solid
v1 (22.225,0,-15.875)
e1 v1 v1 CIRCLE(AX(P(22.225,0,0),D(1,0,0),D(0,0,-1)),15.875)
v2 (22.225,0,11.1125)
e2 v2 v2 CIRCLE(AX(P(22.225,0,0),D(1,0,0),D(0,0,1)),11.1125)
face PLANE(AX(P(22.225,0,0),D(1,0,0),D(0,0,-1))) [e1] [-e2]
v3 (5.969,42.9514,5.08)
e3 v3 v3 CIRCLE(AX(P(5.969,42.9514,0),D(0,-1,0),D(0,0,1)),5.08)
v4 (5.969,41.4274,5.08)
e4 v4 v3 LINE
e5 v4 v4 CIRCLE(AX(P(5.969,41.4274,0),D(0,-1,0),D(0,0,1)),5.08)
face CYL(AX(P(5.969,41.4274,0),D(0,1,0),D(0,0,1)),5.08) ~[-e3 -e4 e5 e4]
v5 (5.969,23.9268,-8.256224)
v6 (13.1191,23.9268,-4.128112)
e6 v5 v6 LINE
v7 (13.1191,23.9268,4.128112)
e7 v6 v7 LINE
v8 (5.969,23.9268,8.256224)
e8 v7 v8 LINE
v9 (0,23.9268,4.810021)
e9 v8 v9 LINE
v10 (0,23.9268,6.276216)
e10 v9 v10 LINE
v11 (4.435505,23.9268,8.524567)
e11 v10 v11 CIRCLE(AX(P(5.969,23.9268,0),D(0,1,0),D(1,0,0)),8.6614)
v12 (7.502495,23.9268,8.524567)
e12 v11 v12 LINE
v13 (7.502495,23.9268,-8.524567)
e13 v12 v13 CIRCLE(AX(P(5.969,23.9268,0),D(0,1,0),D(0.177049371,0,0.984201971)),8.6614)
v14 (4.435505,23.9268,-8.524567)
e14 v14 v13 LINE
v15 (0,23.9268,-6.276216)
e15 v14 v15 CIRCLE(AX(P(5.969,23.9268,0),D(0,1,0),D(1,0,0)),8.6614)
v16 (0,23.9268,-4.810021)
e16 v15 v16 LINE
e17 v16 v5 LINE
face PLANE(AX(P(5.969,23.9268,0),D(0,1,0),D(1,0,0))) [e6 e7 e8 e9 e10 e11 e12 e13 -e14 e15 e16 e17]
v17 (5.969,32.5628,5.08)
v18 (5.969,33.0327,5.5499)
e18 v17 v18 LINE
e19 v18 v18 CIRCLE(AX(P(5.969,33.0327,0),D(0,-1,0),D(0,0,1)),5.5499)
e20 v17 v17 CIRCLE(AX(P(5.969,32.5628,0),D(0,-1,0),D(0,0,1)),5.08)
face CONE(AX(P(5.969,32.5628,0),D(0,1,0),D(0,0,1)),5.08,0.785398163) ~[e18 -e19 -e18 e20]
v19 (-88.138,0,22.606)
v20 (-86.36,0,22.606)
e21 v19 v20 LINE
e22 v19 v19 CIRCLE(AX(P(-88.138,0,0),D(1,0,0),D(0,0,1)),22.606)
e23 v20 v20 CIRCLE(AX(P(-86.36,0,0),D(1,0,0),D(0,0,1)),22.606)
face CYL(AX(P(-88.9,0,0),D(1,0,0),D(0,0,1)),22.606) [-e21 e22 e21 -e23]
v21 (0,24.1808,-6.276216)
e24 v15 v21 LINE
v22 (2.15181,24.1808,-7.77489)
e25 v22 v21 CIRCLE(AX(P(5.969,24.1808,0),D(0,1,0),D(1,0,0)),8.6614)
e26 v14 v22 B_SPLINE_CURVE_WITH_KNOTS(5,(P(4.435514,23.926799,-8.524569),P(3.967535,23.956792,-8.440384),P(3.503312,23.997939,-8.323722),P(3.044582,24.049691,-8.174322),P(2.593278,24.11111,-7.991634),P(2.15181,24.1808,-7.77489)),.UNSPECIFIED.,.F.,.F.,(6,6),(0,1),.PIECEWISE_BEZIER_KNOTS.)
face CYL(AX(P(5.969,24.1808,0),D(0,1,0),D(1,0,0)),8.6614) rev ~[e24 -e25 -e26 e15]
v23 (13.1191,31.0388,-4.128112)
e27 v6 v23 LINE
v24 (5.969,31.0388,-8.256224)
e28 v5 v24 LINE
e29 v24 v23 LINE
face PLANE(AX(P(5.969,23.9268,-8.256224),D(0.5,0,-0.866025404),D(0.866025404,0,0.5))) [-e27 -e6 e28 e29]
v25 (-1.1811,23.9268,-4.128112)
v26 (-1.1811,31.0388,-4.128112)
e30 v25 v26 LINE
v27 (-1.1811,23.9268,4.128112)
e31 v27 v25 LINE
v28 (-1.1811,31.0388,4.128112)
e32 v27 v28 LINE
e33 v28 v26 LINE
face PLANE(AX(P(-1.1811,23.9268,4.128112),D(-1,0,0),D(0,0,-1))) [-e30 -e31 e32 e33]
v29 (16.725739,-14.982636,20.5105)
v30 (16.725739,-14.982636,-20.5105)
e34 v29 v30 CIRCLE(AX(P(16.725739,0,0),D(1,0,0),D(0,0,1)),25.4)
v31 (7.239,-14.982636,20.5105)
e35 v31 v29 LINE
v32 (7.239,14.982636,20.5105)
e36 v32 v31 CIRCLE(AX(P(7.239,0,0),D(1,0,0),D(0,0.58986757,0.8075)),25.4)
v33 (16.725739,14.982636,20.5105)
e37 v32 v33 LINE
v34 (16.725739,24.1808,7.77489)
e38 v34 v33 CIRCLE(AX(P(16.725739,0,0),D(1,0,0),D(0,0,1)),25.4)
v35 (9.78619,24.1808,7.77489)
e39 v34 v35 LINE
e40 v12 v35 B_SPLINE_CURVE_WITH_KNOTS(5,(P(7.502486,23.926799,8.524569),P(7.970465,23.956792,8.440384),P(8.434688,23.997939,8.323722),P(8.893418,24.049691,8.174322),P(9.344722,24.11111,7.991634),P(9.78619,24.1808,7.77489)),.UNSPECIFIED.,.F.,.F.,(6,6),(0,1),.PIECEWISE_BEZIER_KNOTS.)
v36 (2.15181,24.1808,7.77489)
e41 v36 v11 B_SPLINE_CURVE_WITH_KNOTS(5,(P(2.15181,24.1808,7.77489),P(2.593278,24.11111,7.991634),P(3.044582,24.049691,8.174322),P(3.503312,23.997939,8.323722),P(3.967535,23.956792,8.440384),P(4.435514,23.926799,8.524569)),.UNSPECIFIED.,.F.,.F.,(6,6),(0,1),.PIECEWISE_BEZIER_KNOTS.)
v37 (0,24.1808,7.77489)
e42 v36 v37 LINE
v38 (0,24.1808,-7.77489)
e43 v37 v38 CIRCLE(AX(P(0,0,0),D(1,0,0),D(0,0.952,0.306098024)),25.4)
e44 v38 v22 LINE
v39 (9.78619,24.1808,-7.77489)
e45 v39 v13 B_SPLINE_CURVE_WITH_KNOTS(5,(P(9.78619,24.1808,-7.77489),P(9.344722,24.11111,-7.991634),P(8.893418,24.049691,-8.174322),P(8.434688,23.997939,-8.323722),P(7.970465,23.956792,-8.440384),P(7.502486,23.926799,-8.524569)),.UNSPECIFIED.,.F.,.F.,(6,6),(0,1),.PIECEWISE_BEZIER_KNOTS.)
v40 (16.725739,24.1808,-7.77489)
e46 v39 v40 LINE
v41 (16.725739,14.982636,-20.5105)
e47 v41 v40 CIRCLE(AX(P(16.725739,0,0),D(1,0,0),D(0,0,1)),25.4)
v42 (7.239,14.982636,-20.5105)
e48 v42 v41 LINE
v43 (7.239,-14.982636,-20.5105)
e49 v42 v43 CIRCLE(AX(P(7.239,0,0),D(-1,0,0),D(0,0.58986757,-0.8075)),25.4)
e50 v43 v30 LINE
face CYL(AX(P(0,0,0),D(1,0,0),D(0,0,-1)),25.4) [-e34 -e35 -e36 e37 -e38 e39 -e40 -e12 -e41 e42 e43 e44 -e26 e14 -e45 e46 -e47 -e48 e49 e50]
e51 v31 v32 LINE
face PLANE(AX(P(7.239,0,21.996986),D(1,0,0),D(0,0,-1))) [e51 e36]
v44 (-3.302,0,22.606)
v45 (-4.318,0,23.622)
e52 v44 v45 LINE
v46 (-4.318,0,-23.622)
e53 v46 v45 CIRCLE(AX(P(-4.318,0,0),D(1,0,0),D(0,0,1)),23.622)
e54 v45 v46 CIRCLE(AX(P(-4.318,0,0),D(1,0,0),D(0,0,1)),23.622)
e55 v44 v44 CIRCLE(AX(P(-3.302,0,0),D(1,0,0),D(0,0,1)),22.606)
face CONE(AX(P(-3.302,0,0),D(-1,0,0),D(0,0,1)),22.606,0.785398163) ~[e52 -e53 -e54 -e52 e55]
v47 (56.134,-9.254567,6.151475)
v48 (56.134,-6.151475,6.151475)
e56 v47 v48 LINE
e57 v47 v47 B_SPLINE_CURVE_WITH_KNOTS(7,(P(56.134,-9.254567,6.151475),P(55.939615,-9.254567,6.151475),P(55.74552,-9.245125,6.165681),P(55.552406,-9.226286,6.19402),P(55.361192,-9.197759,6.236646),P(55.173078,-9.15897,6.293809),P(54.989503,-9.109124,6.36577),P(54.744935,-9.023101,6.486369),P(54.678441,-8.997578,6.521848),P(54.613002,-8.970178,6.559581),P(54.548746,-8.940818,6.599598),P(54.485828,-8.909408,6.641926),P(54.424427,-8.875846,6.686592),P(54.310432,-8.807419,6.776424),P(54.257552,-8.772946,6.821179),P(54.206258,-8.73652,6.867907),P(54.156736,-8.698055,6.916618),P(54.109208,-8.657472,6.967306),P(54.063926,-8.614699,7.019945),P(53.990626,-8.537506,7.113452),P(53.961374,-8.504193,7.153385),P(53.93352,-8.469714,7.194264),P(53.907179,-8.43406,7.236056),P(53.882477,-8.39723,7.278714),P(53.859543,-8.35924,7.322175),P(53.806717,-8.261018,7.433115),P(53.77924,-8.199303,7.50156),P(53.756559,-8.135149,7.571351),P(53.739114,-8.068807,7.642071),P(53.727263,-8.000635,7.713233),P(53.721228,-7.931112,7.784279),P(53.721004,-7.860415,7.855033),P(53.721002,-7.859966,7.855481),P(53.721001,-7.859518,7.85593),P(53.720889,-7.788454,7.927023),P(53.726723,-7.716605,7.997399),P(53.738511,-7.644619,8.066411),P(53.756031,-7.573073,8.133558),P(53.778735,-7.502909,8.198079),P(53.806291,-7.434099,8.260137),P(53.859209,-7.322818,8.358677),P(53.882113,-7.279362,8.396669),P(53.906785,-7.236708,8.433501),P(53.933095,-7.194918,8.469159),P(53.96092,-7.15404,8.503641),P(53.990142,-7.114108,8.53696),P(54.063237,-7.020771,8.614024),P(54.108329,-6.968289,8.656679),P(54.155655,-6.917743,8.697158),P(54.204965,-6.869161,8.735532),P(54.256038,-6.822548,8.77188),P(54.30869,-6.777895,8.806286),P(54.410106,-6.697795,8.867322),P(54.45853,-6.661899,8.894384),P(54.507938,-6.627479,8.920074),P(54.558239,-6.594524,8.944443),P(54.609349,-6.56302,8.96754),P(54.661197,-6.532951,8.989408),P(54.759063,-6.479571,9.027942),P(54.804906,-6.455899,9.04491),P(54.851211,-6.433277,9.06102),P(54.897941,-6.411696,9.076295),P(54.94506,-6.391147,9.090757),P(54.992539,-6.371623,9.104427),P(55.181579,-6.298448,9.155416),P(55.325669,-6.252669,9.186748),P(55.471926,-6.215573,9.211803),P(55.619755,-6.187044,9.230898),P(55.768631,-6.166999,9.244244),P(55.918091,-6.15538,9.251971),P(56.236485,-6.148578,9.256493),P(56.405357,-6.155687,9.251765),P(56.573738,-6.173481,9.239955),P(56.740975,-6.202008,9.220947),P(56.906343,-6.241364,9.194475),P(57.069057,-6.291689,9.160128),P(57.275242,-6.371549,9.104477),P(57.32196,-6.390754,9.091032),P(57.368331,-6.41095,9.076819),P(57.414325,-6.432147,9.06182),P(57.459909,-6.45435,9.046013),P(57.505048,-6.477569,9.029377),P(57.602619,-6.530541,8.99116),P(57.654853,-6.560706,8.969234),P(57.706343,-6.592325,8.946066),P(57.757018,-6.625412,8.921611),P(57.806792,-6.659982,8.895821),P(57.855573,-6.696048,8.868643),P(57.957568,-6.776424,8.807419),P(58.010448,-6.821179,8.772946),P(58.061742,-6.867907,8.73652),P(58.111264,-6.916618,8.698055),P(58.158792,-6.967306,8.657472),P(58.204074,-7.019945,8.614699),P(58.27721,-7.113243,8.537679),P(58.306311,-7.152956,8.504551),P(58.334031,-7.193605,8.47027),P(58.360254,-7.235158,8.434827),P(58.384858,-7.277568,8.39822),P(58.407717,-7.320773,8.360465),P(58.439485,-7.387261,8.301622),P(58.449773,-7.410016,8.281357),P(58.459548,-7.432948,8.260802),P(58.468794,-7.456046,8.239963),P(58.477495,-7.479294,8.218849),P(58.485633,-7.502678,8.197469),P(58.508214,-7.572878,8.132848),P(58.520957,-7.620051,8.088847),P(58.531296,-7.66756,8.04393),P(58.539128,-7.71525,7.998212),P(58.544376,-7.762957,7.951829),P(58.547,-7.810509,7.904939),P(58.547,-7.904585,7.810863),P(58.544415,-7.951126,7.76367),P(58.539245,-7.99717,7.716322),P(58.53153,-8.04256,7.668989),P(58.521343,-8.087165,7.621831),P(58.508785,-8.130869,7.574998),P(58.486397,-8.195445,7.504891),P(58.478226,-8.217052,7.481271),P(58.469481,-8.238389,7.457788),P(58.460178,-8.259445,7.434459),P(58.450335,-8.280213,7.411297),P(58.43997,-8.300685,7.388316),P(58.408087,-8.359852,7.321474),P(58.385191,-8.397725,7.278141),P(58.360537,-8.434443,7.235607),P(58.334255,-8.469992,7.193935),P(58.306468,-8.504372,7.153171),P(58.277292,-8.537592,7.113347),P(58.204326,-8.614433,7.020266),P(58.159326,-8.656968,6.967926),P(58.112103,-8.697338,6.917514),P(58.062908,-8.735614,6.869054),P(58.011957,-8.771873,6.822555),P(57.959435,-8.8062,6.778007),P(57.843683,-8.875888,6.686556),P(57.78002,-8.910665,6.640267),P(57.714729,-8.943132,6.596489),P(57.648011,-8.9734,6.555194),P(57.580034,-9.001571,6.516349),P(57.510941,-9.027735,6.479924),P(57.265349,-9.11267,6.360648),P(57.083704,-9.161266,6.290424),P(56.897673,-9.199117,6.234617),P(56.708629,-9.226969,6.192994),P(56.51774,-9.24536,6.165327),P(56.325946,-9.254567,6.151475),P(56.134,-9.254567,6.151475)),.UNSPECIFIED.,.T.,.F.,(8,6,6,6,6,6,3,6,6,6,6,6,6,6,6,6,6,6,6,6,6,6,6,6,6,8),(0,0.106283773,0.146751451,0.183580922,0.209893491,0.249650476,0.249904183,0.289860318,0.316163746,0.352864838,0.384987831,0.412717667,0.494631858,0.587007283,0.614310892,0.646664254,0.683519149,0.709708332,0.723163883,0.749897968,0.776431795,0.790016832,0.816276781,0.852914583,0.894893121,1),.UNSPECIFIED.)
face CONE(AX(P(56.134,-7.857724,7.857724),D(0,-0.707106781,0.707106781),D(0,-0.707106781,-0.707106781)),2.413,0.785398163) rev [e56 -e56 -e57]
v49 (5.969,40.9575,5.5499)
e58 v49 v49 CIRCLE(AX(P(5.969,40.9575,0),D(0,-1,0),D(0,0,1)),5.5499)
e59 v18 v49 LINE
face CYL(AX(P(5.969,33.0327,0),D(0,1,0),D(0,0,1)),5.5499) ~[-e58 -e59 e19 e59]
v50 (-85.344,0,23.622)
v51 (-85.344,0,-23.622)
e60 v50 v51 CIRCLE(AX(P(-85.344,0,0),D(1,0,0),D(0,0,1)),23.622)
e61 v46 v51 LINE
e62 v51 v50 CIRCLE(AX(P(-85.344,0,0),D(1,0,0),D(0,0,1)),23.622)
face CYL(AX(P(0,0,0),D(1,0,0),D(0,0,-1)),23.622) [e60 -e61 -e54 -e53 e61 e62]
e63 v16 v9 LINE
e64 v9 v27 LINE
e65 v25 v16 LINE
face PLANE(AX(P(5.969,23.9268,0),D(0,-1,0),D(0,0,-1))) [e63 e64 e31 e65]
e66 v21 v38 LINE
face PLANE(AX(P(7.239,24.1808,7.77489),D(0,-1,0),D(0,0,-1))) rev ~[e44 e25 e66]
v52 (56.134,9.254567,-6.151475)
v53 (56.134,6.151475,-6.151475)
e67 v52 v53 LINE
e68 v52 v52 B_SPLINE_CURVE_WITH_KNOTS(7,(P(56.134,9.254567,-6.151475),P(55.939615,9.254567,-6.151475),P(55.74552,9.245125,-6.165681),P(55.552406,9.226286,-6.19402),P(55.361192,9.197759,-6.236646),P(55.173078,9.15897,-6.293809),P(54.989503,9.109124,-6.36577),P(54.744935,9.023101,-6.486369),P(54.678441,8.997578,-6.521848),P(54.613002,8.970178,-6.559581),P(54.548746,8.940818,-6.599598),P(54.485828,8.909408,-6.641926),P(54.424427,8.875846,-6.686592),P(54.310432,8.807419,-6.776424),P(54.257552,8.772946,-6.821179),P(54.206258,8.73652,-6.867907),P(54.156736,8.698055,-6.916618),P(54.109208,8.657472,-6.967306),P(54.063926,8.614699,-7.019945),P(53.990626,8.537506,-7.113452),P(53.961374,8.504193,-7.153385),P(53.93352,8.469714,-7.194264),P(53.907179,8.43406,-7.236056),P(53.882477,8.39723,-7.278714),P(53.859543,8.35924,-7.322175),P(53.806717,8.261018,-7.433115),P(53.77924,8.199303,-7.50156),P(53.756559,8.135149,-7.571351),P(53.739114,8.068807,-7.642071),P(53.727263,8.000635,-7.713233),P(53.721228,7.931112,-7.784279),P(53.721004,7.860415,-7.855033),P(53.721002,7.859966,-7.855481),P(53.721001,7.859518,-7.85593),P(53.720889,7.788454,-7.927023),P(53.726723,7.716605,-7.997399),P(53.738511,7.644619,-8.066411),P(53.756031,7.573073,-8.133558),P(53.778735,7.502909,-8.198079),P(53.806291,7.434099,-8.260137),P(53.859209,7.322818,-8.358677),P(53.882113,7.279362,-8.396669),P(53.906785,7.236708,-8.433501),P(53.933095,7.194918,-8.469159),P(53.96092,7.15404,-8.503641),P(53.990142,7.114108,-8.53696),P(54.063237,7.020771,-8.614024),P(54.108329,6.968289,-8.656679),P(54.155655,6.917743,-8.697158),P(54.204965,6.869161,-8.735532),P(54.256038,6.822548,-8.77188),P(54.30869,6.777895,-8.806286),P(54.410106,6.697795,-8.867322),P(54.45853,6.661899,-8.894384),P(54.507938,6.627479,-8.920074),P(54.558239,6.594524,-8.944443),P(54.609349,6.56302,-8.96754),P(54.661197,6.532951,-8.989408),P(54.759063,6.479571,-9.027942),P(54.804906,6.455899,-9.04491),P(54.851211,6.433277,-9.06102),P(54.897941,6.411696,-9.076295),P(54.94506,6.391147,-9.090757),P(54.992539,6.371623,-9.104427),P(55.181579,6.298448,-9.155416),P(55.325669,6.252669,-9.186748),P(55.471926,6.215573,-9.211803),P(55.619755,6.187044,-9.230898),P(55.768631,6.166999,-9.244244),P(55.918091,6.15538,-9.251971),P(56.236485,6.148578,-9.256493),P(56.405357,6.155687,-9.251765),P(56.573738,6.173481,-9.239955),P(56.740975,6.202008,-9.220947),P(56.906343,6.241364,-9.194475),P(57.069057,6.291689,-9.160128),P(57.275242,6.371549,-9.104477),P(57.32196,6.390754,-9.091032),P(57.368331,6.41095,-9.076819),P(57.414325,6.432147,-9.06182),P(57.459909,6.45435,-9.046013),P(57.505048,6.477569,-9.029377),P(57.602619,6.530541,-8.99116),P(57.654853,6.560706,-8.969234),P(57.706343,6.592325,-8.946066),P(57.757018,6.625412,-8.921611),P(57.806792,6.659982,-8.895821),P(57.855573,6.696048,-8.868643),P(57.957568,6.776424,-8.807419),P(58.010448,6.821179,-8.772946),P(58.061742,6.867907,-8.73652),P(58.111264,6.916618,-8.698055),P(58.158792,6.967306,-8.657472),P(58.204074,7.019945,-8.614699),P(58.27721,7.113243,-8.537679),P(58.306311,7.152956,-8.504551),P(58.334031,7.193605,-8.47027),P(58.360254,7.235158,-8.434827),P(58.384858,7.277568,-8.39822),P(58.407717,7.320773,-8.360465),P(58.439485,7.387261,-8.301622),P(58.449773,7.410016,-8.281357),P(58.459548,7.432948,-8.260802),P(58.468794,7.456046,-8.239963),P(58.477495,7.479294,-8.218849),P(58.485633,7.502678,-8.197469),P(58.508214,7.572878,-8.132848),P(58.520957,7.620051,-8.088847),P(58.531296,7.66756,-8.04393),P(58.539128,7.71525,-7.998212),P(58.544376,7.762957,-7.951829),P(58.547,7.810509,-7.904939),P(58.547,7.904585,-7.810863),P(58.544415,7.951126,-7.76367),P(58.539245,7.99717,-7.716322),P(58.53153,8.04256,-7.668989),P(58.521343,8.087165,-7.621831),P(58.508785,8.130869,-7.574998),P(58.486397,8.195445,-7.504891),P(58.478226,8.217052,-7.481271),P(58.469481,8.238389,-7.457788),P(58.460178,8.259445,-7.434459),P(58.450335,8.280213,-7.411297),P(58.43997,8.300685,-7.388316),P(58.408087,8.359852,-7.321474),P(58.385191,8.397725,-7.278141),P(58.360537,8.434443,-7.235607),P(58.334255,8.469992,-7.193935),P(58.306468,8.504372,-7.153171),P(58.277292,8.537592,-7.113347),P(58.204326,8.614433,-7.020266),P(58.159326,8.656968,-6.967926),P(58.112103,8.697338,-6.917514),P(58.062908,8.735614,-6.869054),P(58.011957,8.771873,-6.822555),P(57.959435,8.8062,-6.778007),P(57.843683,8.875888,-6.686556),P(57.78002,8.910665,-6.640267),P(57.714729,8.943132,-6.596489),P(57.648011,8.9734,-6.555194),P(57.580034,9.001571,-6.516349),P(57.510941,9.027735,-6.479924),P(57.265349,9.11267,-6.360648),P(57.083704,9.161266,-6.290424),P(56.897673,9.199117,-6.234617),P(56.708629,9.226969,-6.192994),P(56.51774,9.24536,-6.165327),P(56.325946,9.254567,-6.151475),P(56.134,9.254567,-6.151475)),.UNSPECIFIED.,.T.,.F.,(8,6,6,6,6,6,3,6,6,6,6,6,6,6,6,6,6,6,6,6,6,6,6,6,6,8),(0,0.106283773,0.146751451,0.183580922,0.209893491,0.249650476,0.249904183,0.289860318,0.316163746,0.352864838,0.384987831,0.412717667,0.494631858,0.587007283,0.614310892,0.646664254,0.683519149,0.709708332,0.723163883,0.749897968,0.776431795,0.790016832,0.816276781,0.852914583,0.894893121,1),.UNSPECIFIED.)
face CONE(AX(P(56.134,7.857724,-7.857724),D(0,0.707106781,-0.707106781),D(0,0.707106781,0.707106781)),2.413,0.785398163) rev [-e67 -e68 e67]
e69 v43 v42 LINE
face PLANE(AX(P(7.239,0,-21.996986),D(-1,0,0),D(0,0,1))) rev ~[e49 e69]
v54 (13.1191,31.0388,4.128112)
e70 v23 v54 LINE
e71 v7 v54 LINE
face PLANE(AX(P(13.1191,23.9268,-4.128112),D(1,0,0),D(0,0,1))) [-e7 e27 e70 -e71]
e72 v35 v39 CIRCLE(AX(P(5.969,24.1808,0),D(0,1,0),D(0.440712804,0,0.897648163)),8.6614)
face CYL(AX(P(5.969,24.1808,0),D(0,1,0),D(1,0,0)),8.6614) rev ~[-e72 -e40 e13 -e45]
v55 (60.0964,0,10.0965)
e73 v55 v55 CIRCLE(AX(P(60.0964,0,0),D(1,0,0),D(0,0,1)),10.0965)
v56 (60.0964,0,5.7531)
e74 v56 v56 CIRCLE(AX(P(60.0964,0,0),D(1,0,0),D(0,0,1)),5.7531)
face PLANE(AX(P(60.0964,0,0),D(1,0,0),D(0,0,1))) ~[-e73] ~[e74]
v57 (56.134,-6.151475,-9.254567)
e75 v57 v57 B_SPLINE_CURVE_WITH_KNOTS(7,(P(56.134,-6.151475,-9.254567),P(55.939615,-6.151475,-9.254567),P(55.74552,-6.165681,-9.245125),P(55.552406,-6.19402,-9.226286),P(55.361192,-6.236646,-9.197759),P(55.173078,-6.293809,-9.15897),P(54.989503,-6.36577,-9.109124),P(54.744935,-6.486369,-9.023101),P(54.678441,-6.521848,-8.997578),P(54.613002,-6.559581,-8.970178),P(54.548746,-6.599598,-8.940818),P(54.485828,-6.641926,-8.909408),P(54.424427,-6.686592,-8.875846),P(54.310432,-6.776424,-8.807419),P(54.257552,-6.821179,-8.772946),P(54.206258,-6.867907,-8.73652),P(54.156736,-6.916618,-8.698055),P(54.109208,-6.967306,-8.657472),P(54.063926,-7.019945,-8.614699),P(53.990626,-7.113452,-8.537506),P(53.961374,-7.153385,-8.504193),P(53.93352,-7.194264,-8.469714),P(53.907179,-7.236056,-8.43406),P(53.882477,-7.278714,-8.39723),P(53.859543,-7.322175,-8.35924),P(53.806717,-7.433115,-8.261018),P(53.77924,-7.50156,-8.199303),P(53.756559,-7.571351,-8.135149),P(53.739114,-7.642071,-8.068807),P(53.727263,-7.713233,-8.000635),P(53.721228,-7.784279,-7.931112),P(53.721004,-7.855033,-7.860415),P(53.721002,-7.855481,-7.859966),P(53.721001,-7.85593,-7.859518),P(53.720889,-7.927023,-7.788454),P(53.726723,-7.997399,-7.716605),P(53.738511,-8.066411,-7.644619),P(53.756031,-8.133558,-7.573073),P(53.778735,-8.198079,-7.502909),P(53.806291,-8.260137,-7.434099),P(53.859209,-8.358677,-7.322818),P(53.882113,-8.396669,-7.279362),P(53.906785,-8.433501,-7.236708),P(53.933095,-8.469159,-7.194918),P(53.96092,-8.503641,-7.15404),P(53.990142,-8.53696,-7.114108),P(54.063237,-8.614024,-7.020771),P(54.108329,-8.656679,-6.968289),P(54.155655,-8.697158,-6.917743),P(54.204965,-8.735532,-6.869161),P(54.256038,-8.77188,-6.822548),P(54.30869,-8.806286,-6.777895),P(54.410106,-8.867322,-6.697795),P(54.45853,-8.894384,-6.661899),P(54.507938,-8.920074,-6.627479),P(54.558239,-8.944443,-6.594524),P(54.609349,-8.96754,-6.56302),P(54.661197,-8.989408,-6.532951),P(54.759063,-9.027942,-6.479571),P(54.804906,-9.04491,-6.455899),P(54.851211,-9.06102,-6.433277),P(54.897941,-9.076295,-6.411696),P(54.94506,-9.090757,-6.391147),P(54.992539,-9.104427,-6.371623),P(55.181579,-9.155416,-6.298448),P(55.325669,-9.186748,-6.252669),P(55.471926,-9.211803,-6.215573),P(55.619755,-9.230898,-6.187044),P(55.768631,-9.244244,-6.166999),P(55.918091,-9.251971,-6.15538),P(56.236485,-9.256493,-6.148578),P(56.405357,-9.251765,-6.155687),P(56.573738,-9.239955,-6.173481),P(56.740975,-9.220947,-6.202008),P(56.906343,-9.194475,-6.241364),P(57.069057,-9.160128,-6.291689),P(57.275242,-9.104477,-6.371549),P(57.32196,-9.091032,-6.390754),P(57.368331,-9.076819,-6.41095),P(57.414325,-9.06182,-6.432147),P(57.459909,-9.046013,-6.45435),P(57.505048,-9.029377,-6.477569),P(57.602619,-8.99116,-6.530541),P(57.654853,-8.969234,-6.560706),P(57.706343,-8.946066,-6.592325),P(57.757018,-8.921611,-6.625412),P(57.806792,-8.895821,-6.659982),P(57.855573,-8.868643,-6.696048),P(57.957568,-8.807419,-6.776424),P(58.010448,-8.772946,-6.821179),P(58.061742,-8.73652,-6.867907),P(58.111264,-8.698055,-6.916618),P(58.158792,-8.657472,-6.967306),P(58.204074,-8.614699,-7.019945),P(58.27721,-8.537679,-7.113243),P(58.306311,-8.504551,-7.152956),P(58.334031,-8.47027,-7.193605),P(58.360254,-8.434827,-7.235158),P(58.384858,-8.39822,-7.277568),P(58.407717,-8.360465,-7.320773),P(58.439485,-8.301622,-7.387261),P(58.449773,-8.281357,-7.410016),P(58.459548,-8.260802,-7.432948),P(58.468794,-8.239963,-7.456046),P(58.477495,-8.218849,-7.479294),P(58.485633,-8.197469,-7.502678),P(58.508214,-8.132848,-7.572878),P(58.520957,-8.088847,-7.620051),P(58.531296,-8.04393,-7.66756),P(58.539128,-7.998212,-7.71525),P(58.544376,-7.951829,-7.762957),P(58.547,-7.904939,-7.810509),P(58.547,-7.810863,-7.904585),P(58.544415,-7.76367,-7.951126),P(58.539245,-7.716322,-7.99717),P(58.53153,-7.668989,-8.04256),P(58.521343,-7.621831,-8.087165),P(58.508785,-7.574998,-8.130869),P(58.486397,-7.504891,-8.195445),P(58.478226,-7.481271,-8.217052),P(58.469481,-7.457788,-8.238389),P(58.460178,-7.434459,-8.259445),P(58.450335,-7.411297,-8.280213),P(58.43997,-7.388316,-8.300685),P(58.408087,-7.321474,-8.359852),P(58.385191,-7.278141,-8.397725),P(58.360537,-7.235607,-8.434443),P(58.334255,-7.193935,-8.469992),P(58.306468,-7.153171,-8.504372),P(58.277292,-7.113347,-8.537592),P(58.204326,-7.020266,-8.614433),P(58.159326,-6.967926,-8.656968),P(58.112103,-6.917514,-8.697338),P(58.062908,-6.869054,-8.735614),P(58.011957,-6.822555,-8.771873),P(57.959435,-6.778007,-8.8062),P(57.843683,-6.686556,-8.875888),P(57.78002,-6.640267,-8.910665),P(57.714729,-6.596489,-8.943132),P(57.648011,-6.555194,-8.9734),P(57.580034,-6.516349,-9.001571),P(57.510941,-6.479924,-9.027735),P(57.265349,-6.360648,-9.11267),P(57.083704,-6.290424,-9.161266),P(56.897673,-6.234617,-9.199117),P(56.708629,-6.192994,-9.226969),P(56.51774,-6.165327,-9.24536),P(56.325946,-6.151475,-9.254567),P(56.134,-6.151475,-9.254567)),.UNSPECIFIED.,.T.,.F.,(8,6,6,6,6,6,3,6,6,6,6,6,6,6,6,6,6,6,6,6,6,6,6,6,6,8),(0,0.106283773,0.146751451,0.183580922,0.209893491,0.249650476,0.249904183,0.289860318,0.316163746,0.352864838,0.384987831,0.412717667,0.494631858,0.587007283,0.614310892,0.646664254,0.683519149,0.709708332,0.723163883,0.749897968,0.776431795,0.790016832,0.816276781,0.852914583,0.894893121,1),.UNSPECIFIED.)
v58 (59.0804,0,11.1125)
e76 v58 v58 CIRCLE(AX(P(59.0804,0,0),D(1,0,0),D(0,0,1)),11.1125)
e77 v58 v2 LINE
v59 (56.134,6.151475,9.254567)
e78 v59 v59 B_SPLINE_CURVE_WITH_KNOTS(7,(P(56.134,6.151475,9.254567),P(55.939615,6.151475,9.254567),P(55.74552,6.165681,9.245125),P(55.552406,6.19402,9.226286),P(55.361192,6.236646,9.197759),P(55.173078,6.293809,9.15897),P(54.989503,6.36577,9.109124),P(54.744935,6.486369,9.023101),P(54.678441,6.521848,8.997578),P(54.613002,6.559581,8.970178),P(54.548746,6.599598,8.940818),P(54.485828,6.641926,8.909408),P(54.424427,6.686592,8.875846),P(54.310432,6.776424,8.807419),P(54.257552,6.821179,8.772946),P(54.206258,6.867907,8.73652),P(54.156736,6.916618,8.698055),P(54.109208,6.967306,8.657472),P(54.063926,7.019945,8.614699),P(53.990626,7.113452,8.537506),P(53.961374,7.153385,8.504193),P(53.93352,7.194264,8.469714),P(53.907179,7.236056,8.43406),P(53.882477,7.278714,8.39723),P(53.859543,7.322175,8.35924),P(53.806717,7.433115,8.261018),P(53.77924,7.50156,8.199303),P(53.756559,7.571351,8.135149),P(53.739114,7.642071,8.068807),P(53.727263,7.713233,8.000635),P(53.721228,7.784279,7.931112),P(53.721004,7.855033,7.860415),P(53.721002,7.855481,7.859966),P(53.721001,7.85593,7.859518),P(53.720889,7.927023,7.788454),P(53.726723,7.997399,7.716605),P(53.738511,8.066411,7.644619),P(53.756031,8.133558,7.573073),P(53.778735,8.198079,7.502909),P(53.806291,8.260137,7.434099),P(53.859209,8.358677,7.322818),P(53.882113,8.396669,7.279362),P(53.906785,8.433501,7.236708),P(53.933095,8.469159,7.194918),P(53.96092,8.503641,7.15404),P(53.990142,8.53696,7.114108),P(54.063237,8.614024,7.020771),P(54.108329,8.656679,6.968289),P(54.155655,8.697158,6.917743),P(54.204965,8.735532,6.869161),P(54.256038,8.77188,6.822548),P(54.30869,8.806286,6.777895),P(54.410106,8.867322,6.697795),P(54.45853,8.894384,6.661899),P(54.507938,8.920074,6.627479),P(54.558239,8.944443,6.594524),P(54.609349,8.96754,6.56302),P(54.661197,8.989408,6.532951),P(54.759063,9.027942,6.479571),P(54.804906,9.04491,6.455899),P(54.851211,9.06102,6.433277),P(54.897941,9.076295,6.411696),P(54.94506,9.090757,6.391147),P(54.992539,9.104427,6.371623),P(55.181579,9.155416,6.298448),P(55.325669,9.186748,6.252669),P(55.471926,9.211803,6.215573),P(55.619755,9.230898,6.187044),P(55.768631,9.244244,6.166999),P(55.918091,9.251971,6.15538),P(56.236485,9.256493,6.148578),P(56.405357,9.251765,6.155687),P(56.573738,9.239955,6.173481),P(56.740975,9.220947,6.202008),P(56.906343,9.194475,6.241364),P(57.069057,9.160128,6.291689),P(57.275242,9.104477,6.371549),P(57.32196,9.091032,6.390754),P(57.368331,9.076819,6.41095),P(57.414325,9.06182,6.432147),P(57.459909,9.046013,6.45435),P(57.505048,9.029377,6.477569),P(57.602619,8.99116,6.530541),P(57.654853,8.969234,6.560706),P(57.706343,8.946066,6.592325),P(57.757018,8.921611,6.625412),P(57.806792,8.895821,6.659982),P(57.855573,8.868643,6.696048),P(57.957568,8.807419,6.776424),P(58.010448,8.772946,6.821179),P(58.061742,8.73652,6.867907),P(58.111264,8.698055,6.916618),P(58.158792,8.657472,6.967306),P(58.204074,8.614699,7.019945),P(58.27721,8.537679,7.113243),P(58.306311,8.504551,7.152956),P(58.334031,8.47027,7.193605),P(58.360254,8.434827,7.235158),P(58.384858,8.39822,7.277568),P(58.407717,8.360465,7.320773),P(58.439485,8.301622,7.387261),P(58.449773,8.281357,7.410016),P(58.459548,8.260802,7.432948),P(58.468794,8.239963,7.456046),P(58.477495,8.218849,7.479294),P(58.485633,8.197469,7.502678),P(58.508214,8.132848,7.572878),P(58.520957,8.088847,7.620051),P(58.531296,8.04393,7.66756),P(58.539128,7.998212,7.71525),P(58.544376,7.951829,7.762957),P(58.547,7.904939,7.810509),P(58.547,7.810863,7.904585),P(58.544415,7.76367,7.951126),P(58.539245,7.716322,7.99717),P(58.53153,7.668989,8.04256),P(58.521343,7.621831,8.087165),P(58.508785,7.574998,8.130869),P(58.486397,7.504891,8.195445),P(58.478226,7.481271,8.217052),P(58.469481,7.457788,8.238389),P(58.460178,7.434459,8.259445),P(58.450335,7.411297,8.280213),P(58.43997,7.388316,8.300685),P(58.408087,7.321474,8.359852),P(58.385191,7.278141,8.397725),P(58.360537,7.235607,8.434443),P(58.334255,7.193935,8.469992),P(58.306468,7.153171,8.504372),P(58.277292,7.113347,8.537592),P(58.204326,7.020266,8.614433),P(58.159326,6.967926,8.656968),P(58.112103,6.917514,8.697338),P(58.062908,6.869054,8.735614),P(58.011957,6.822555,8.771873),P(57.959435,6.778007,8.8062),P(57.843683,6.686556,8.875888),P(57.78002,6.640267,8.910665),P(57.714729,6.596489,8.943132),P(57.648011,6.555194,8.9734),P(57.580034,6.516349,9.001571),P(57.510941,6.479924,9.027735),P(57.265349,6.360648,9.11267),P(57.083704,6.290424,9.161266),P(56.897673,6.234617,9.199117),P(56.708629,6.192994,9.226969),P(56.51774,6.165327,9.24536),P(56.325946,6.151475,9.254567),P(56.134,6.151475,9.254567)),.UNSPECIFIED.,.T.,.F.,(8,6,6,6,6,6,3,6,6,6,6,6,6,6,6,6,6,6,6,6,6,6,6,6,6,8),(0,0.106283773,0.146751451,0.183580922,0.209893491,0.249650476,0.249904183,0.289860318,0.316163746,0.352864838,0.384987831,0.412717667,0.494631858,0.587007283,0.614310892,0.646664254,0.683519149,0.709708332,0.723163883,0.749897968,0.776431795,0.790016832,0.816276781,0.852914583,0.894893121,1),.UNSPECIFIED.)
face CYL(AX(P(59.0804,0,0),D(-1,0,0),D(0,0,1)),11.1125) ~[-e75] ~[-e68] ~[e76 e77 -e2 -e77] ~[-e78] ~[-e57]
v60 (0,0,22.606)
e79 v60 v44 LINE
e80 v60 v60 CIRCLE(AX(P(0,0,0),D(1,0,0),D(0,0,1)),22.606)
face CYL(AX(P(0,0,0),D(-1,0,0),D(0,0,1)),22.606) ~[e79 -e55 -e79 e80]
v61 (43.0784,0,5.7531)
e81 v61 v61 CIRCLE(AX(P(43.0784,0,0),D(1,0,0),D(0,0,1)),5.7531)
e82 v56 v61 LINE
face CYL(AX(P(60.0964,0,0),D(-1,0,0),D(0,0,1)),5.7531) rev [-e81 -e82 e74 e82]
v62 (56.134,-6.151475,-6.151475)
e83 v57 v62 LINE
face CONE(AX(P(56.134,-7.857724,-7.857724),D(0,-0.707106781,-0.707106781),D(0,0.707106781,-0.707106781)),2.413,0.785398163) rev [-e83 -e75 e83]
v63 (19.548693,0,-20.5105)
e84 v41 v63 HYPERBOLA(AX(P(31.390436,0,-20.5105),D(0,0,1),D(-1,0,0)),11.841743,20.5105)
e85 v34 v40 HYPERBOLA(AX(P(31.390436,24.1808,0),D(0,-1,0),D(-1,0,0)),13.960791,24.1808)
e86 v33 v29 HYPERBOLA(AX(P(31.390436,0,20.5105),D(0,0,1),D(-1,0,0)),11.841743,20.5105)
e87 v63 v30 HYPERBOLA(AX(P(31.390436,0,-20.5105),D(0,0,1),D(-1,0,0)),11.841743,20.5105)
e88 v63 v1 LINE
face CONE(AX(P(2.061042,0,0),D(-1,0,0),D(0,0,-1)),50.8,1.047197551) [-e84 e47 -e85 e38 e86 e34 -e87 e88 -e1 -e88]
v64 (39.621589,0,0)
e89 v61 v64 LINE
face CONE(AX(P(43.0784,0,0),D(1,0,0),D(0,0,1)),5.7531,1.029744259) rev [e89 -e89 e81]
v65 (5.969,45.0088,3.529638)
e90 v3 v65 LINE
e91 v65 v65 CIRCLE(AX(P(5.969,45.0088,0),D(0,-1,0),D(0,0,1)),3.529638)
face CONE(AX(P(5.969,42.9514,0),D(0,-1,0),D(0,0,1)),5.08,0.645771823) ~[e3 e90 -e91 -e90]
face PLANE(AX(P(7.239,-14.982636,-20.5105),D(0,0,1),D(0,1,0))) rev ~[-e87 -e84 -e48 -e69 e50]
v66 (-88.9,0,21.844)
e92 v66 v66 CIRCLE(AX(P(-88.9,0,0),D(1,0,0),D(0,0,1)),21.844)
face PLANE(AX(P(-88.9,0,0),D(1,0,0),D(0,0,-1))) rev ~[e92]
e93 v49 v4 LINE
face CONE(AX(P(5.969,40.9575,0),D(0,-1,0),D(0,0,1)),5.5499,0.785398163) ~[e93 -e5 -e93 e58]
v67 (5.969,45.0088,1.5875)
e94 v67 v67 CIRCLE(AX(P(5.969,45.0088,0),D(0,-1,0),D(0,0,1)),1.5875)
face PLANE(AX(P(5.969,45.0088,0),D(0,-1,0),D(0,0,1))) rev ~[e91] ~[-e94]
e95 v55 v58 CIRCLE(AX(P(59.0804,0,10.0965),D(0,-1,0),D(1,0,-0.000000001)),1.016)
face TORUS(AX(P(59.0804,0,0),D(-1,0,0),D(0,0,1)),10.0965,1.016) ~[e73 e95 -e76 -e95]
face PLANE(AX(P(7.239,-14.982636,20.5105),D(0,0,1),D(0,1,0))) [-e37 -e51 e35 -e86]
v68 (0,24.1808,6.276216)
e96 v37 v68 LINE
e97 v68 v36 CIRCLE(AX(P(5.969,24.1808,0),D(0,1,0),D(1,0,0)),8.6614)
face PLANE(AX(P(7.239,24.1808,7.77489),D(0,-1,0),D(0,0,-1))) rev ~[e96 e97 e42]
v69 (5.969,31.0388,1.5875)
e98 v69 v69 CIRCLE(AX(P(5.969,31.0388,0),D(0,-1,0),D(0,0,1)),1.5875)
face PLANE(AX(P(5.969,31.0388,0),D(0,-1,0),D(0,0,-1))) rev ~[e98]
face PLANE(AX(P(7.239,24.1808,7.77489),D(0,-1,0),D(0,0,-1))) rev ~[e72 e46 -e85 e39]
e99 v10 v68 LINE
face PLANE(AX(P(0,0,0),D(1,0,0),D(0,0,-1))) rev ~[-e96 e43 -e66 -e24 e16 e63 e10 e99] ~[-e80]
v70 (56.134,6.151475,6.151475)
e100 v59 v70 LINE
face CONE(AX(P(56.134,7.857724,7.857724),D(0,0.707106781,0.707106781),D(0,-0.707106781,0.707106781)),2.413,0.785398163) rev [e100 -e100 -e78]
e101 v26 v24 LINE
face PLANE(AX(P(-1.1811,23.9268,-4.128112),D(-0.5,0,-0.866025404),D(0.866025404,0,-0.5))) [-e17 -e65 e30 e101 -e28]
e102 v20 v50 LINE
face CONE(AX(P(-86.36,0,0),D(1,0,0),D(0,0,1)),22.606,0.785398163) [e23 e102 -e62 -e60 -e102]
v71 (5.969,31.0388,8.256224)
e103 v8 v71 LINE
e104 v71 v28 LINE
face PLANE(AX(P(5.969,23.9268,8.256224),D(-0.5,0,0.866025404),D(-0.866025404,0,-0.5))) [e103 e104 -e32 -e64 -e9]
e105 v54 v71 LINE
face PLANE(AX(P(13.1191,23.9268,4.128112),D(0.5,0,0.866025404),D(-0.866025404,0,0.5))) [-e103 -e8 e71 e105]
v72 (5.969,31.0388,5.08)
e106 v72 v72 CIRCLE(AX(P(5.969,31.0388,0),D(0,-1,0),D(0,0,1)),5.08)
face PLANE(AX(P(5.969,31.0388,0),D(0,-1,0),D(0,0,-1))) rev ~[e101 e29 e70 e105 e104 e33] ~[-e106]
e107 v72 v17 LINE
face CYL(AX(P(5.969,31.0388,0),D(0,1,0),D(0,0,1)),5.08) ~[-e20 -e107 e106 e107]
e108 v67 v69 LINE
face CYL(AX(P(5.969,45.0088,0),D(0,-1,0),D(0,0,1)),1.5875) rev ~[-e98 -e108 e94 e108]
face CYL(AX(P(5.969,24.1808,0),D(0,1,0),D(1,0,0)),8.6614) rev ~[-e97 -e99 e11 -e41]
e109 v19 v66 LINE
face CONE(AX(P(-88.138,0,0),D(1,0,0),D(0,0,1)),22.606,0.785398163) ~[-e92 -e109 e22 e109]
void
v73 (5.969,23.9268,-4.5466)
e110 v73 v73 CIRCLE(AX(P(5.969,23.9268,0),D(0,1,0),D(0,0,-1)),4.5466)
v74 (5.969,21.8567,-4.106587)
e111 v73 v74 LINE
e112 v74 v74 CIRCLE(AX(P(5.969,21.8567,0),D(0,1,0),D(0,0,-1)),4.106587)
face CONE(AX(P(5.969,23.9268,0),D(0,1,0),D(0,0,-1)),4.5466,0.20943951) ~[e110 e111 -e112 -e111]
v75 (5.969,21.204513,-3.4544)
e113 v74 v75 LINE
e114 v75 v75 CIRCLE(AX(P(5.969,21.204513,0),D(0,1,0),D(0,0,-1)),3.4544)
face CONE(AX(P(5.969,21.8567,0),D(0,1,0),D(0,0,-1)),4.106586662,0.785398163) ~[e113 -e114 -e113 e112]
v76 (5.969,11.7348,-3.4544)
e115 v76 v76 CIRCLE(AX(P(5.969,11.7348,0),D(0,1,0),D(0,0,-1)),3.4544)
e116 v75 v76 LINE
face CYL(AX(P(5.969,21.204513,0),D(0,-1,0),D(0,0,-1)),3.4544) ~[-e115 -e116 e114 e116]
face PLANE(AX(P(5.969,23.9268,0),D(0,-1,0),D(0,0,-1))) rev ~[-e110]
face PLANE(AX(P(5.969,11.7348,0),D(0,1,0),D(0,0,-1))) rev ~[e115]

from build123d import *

# Parameters (mm, degrees)
SKETCH1_R           = 25.4
EXTRUDE1_DEPTH      = 22.225
EXTRUDE1_DEPTH_BACK = 88.9
CUT_EXTRUDE1_REACH  = 90.9
SKETCH2_R           = 25.4
SKETCH2_R_2         = 23.622
CUT_EXTRUDE3_REACH  = 31.464
CUT_EXTRUDE3_START  = -7.239
CUT_EXTRUDE4_DEPTH  = 7.239
SKETCH20_R          = 8.6614
CUT_EXTRUDE5_DEPTH  = 0.254
CHAMFER1_SIZE       = 0.762
EXTRUDE3_DEPTH      = 7.112
CIRPATTERN1_COUNT   = 4


with BuildPart() as part:
    # Sketch1 → Extrude1 (new body, two sides)
    with BuildSketch(Plane(origin=(0, 0, 0), x_dir=(0, 0, -1), z_dir=(1, 0, 0))) as extrude1_sk:
        Circle(SKETCH1_R)
    extrude(amount=EXTRUDE1_DEPTH)
    extrude(extrude1_sk.sketch, amount=-EXTRUDE1_DEPTH_BACK)

    # Sketch2 → Cut-Extrude1 (cut, up to next)
    with BuildSketch(Plane(origin=(0, 0, 0), x_dir=(0, 0, -1), z_dir=(1, 0, 0)), mode=Mode.PRIVATE) as cut_extrude1_sk1:
        Circle(SKETCH2_R)
        Circle(SKETCH2_R_2, mode=Mode.SUBTRACT)
    cut_extrude1_tool1 = extrude(cut_extrude1_sk1.sketch, amount=-CUT_EXTRUDE1_REACH, mode=Mode.PRIVATE) & part.part
    add(cut_extrude1_tool1.solids().sort_by_distance((0, 0, 24.68158))[0], mode=Mode.SUBTRACT)

    # Sketch4 → Cut-Extrude3 (cut, up to next)
    with BuildSketch(Plane.ZY.offset(CUT_EXTRUDE3_START), mode=Mode.PRIVATE) as cut_extrude3_sk1:
        with BuildLine():
            Line((20.5105, -14.982636275), (20.5105, 14.982636275))
            ThreePointArc((20.5105, 14.982636275), (25.4, 0), (20.5105, -14.982636275))
        make_face()
    cut_extrude3_tool1 = extrude(cut_extrude3_sk1.sketch, amount=-CUT_EXTRUDE3_REACH, mode=Mode.PRIVATE) & part.part
    add(cut_extrude3_tool1.solids().sort_by_distance((7.239, 0, 22.48339))[0], mode=Mode.SUBTRACT)
    # Sketch4 → Cut-Extrude3 (cut, up to next)
    with BuildSketch(Plane.ZY.offset(CUT_EXTRUDE3_START), mode=Mode.PRIVATE) as cut_extrude3_sk2:
        with BuildLine():
            Line((7.774889797, 24.1808), (-7.774889797, 24.1808))
            ThreePointArc((-7.774889797, 24.1808), (0, 25.4), (7.774889797, 24.1808))
        make_face()
    cut_extrude3_tool2 = extrude(cut_extrude3_sk2.sketch, amount=-CUT_EXTRUDE3_REACH, mode=Mode.PRIVATE) & part.part
    add(cut_extrude3_tool2.solids().sort_by_distance((7.239, 24.669497, 0))[0], mode=Mode.SUBTRACT)
    # Sketch4 → Cut-Extrude3 (cut, up to next)
    with BuildSketch(Plane.ZY.offset(CUT_EXTRUDE3_START), mode=Mode.PRIVATE) as cut_extrude3_sk3:
        with BuildLine():
            Line((-20.5105, -14.982636275), (-20.5105, 14.982636275))
            ThreePointArc((-20.5105, 14.982636275), (-25.4, 0), (-20.5105, -14.982636275))
        make_face()
    cut_extrude3_tool3 = extrude(cut_extrude3_sk3.sketch, amount=-CUT_EXTRUDE3_REACH, mode=Mode.PRIVATE) & part.part
    add(cut_extrude3_tool3.solids().sort_by_distance((7.239, 0, -22.48339))[0], mode=Mode.SUBTRACT)

    # Sketch19 → Cut-Extrude4 (cut)
    with BuildSketch(Plane(origin=(7.239, 0, 0), x_dir=(0, 0, -1), z_dir=(1, 0, 0))):
        with BuildLine():
            Line((-7.774889797, 24.1808), (7.774889797, 24.1808))
            ThreePointArc((7.774889797, 24.1808), (0, 25.4), (-7.774889797, 24.1808))
        make_face()
    extrude(amount=-CUT_EXTRUDE4_DEPTH, mode=Mode.SUBTRACT)

    # Sketch6 → Cut-Revolve2 (revolve, cut)
    with BuildSketch(Plane.XY, mode=Mode.PRIVATE) as cut_revolve2_sk:
        Polygon((2.061041849, 50.8), (22.225, 15.875), (22.225, 50.8), align=None)
    revolve(cut_revolve2_sk.sketch.rotate(Axis((1.052843941, 0, 0), (1, 0, 0)), 270), axis=Axis((1.052843941, 0, 0), (1, 0, 0)), mode=Mode.SUBTRACT)  # turned: the seam where the file's is

    # S2D0002 → Cut-Revolve3 (revolve, cut)
    with BuildSketch(Plane(origin=(5.969, 23.9268, 0), x_dir=(1, 0, 0), z_dir=(0, 0, 1)), mode=Mode.PRIVATE) as cut_revolve3_sk:
        Polygon((0, 0), (4.5466, 0), (4.106586662, -2.0701), (3.4544, -2.722286662), (3.4544, -12.192), (0, -12.192), align=None)
    revolve(cut_revolve3_sk.sketch.rotate(Axis((5.969, 11.1252, 0), (0, 1, 0)), 90), axis=Axis((5.969, 11.1252, 0), (0, 1, 0)), mode=Mode.SUBTRACT)  # turned: the seam where the file's is

    # Sketch20 → Cut-Extrude5 (cut)
    with BuildSketch(Plane(origin=(0, 24.1808, 0), x_dir=(1, 0, 0), z_dir=(0, 1, 0))):
        with Locations((5.969, 0)):
            Circle(SKETCH20_R)
    extrude(amount=-CUT_EXTRUDE5_DEPTH, mode=Mode.SUBTRACT)

    # Sketch9 → Cut-Revolve5 (revolve, cut)
    with BuildSketch(Plane.XY, mode=Mode.PRIVATE) as cut_revolve5_sk:
        Polygon((0, 23.622), (0, 22.606), (-3.302, 22.606), (-4.318, 23.622), align=None)
    revolve(cut_revolve5_sk.sketch.rotate(Axis((-4.5339, 0, 0), (1, 0, 0)), 90), axis=Axis((-4.5339, 0, 0), (1, 0, 0)), mode=Mode.SUBTRACT)  # turned: the seam where the file's is

    # Sketch11 → Cut-Revolve7 (revolve, cut)
    with BuildSketch(Plane.XY, mode=Mode.PRIVATE) as cut_revolve7_sk:
        Polygon((-88.9, 23.622), (-88.9, 22.606), (-86.36, 22.606), (-85.344, 23.622), align=None)
    revolve(cut_revolve7_sk.sketch.rotate(Axis((-89.0778, 0, 0), (1, 0, 0)), 90), axis=Axis((-89.0778, 0, 0), (1, 0, 0)), mode=Mode.SUBTRACT)  # turned: the seam where the file's is

    # Chamfer1
    chamfer1_edges = [part.edges().sort_by_distance(p)[0] for p in [
        (-88.9, 0, -22.606),
    ]]
    chamfer(chamfer1_edges, length=CHAMFER1_SIZE)

    # Sketch12 → Revolve1 (revolve)
    with BuildSketch(Plane(origin=(0, 0, 0), x_dir=(0, -1, 0), z_dir=(0, 0, 1)), mode=Mode.PRIVATE) as revolve1_sk:
        with BuildLine():
            Line((0, 22.225), (0, 60.0964))
            Line((0, 60.0964), (10.0965, 60.0964))
            ThreePointArc((10.0965, 60.0964), (10.81492049, 59.79882049), (11.1125, 59.0804))
            Line((11.1125, 59.0804), (11.1125, 22.225))
            Line((11.1125, 22.225), (0, 22.225))
        make_face()
    revolve(revolve1_sk.sketch.rotate(Axis((20.33143, 0, 0), (1, 0, 0)), 270), axis=Axis((20.33143, 0, 0), (1, 0, 0)))  # turned: the seam where the file's is

    # S2D0001 → Cut-Revolve8 (revolve, cut)
    with BuildSketch(Plane(origin=(60.0964, -5.7531, 0), x_dir=(0, -1, 0), z_dir=(0, 0, 1)), mode=Mode.PRIVATE) as cut_revolve8_sk:
        Polygon((0, 0), (0, -17.018), (-5.7531, -20.474811227), (-5.7531, 0), align=None)
    revolve(cut_revolve8_sk.sketch.rotate(Axis((38.597848211, 0, 0), (1, 0, 0)), 270), axis=Axis((38.597848211, 0, 0), (1, 0, 0)), mode=Mode.SUBTRACT)  # turned: the seam where the file's is

    # S2D0003 → Extrude3 (add)
    with BuildSketch(Plane.ZX.offset(23.9268)):
        Polygon((-4.12811216, 13.1191), (4.12811216, 13.1191), (8.256224319, 5.969), (4.12811216, -1.1811), (-4.12811216, -1.1811), (-8.256224319, 5.969), align=None)
    extrude(amount=EXTRUDE3_DEPTH)

    # Sketch16 → Revolve2 (revolve)
    with BuildSketch(Plane(origin=(0, 0, 0), x_dir=(0, -1, 0), z_dir=(0, 0, 1)), mode=Mode.PRIVATE) as revolve2_sk:
        Polygon((-31.0388, 11.049), (-32.5628, 11.049), (-33.0327, 11.5189), (-40.9575, 11.5189), (-41.4274, 11.049), (-42.9514, 11.049), (-45.0088, 9.498637897), (-45.0088, 7.5565), (-31.0388, 7.5565), align=None)
    revolve(revolve2_sk.sketch.rotate(Axis((5.969, 45.7073, 0), (0, -1, 0)), 90), axis=Axis((5.969, 45.7073, 0), (0, -1, 0)))  # turned: the seam where the file's is

    # Sketch17 → Cut-Revolve9 (revolve, cut)
    with BuildSketch(Plane(origin=(56.134, 7.857724106, -7.857724106), x_dir=(-1, 0, 0), z_dir=(0, -0.707106781, -0.707106781)), mode=Mode.PRIVATE) as cut_revolve9_sk:
        Polygon((0, 0), (2.413, 0), (0, -2.413), align=None)
    cut_revolve9 = revolve(cut_revolve9_sk.sketch.rotate(Axis((56.134, 6.06616301, -6.06616301), (0, 0.707106781, -0.707106781)), 90), axis=Axis((56.134, 6.06616301, -6.06616301), (0, 0.707106781, -0.707106781)), mode=Mode.SUBTRACT)  # turned: the seam where the file's is

    # CirPattern1: Cut-Revolve9 ×4 about axis
    cirpattern1_axis = Axis((-88.901, 0, 0), (1, 0, 0))
    for i in range(1, CIRPATTERN1_COUNT):
        add(cut_revolve9.rotate(cirpattern1_axis, i * 360 / CIRPATTERN1_COUNT), mode=Mode.SUBTRACT)


solid = part.part
